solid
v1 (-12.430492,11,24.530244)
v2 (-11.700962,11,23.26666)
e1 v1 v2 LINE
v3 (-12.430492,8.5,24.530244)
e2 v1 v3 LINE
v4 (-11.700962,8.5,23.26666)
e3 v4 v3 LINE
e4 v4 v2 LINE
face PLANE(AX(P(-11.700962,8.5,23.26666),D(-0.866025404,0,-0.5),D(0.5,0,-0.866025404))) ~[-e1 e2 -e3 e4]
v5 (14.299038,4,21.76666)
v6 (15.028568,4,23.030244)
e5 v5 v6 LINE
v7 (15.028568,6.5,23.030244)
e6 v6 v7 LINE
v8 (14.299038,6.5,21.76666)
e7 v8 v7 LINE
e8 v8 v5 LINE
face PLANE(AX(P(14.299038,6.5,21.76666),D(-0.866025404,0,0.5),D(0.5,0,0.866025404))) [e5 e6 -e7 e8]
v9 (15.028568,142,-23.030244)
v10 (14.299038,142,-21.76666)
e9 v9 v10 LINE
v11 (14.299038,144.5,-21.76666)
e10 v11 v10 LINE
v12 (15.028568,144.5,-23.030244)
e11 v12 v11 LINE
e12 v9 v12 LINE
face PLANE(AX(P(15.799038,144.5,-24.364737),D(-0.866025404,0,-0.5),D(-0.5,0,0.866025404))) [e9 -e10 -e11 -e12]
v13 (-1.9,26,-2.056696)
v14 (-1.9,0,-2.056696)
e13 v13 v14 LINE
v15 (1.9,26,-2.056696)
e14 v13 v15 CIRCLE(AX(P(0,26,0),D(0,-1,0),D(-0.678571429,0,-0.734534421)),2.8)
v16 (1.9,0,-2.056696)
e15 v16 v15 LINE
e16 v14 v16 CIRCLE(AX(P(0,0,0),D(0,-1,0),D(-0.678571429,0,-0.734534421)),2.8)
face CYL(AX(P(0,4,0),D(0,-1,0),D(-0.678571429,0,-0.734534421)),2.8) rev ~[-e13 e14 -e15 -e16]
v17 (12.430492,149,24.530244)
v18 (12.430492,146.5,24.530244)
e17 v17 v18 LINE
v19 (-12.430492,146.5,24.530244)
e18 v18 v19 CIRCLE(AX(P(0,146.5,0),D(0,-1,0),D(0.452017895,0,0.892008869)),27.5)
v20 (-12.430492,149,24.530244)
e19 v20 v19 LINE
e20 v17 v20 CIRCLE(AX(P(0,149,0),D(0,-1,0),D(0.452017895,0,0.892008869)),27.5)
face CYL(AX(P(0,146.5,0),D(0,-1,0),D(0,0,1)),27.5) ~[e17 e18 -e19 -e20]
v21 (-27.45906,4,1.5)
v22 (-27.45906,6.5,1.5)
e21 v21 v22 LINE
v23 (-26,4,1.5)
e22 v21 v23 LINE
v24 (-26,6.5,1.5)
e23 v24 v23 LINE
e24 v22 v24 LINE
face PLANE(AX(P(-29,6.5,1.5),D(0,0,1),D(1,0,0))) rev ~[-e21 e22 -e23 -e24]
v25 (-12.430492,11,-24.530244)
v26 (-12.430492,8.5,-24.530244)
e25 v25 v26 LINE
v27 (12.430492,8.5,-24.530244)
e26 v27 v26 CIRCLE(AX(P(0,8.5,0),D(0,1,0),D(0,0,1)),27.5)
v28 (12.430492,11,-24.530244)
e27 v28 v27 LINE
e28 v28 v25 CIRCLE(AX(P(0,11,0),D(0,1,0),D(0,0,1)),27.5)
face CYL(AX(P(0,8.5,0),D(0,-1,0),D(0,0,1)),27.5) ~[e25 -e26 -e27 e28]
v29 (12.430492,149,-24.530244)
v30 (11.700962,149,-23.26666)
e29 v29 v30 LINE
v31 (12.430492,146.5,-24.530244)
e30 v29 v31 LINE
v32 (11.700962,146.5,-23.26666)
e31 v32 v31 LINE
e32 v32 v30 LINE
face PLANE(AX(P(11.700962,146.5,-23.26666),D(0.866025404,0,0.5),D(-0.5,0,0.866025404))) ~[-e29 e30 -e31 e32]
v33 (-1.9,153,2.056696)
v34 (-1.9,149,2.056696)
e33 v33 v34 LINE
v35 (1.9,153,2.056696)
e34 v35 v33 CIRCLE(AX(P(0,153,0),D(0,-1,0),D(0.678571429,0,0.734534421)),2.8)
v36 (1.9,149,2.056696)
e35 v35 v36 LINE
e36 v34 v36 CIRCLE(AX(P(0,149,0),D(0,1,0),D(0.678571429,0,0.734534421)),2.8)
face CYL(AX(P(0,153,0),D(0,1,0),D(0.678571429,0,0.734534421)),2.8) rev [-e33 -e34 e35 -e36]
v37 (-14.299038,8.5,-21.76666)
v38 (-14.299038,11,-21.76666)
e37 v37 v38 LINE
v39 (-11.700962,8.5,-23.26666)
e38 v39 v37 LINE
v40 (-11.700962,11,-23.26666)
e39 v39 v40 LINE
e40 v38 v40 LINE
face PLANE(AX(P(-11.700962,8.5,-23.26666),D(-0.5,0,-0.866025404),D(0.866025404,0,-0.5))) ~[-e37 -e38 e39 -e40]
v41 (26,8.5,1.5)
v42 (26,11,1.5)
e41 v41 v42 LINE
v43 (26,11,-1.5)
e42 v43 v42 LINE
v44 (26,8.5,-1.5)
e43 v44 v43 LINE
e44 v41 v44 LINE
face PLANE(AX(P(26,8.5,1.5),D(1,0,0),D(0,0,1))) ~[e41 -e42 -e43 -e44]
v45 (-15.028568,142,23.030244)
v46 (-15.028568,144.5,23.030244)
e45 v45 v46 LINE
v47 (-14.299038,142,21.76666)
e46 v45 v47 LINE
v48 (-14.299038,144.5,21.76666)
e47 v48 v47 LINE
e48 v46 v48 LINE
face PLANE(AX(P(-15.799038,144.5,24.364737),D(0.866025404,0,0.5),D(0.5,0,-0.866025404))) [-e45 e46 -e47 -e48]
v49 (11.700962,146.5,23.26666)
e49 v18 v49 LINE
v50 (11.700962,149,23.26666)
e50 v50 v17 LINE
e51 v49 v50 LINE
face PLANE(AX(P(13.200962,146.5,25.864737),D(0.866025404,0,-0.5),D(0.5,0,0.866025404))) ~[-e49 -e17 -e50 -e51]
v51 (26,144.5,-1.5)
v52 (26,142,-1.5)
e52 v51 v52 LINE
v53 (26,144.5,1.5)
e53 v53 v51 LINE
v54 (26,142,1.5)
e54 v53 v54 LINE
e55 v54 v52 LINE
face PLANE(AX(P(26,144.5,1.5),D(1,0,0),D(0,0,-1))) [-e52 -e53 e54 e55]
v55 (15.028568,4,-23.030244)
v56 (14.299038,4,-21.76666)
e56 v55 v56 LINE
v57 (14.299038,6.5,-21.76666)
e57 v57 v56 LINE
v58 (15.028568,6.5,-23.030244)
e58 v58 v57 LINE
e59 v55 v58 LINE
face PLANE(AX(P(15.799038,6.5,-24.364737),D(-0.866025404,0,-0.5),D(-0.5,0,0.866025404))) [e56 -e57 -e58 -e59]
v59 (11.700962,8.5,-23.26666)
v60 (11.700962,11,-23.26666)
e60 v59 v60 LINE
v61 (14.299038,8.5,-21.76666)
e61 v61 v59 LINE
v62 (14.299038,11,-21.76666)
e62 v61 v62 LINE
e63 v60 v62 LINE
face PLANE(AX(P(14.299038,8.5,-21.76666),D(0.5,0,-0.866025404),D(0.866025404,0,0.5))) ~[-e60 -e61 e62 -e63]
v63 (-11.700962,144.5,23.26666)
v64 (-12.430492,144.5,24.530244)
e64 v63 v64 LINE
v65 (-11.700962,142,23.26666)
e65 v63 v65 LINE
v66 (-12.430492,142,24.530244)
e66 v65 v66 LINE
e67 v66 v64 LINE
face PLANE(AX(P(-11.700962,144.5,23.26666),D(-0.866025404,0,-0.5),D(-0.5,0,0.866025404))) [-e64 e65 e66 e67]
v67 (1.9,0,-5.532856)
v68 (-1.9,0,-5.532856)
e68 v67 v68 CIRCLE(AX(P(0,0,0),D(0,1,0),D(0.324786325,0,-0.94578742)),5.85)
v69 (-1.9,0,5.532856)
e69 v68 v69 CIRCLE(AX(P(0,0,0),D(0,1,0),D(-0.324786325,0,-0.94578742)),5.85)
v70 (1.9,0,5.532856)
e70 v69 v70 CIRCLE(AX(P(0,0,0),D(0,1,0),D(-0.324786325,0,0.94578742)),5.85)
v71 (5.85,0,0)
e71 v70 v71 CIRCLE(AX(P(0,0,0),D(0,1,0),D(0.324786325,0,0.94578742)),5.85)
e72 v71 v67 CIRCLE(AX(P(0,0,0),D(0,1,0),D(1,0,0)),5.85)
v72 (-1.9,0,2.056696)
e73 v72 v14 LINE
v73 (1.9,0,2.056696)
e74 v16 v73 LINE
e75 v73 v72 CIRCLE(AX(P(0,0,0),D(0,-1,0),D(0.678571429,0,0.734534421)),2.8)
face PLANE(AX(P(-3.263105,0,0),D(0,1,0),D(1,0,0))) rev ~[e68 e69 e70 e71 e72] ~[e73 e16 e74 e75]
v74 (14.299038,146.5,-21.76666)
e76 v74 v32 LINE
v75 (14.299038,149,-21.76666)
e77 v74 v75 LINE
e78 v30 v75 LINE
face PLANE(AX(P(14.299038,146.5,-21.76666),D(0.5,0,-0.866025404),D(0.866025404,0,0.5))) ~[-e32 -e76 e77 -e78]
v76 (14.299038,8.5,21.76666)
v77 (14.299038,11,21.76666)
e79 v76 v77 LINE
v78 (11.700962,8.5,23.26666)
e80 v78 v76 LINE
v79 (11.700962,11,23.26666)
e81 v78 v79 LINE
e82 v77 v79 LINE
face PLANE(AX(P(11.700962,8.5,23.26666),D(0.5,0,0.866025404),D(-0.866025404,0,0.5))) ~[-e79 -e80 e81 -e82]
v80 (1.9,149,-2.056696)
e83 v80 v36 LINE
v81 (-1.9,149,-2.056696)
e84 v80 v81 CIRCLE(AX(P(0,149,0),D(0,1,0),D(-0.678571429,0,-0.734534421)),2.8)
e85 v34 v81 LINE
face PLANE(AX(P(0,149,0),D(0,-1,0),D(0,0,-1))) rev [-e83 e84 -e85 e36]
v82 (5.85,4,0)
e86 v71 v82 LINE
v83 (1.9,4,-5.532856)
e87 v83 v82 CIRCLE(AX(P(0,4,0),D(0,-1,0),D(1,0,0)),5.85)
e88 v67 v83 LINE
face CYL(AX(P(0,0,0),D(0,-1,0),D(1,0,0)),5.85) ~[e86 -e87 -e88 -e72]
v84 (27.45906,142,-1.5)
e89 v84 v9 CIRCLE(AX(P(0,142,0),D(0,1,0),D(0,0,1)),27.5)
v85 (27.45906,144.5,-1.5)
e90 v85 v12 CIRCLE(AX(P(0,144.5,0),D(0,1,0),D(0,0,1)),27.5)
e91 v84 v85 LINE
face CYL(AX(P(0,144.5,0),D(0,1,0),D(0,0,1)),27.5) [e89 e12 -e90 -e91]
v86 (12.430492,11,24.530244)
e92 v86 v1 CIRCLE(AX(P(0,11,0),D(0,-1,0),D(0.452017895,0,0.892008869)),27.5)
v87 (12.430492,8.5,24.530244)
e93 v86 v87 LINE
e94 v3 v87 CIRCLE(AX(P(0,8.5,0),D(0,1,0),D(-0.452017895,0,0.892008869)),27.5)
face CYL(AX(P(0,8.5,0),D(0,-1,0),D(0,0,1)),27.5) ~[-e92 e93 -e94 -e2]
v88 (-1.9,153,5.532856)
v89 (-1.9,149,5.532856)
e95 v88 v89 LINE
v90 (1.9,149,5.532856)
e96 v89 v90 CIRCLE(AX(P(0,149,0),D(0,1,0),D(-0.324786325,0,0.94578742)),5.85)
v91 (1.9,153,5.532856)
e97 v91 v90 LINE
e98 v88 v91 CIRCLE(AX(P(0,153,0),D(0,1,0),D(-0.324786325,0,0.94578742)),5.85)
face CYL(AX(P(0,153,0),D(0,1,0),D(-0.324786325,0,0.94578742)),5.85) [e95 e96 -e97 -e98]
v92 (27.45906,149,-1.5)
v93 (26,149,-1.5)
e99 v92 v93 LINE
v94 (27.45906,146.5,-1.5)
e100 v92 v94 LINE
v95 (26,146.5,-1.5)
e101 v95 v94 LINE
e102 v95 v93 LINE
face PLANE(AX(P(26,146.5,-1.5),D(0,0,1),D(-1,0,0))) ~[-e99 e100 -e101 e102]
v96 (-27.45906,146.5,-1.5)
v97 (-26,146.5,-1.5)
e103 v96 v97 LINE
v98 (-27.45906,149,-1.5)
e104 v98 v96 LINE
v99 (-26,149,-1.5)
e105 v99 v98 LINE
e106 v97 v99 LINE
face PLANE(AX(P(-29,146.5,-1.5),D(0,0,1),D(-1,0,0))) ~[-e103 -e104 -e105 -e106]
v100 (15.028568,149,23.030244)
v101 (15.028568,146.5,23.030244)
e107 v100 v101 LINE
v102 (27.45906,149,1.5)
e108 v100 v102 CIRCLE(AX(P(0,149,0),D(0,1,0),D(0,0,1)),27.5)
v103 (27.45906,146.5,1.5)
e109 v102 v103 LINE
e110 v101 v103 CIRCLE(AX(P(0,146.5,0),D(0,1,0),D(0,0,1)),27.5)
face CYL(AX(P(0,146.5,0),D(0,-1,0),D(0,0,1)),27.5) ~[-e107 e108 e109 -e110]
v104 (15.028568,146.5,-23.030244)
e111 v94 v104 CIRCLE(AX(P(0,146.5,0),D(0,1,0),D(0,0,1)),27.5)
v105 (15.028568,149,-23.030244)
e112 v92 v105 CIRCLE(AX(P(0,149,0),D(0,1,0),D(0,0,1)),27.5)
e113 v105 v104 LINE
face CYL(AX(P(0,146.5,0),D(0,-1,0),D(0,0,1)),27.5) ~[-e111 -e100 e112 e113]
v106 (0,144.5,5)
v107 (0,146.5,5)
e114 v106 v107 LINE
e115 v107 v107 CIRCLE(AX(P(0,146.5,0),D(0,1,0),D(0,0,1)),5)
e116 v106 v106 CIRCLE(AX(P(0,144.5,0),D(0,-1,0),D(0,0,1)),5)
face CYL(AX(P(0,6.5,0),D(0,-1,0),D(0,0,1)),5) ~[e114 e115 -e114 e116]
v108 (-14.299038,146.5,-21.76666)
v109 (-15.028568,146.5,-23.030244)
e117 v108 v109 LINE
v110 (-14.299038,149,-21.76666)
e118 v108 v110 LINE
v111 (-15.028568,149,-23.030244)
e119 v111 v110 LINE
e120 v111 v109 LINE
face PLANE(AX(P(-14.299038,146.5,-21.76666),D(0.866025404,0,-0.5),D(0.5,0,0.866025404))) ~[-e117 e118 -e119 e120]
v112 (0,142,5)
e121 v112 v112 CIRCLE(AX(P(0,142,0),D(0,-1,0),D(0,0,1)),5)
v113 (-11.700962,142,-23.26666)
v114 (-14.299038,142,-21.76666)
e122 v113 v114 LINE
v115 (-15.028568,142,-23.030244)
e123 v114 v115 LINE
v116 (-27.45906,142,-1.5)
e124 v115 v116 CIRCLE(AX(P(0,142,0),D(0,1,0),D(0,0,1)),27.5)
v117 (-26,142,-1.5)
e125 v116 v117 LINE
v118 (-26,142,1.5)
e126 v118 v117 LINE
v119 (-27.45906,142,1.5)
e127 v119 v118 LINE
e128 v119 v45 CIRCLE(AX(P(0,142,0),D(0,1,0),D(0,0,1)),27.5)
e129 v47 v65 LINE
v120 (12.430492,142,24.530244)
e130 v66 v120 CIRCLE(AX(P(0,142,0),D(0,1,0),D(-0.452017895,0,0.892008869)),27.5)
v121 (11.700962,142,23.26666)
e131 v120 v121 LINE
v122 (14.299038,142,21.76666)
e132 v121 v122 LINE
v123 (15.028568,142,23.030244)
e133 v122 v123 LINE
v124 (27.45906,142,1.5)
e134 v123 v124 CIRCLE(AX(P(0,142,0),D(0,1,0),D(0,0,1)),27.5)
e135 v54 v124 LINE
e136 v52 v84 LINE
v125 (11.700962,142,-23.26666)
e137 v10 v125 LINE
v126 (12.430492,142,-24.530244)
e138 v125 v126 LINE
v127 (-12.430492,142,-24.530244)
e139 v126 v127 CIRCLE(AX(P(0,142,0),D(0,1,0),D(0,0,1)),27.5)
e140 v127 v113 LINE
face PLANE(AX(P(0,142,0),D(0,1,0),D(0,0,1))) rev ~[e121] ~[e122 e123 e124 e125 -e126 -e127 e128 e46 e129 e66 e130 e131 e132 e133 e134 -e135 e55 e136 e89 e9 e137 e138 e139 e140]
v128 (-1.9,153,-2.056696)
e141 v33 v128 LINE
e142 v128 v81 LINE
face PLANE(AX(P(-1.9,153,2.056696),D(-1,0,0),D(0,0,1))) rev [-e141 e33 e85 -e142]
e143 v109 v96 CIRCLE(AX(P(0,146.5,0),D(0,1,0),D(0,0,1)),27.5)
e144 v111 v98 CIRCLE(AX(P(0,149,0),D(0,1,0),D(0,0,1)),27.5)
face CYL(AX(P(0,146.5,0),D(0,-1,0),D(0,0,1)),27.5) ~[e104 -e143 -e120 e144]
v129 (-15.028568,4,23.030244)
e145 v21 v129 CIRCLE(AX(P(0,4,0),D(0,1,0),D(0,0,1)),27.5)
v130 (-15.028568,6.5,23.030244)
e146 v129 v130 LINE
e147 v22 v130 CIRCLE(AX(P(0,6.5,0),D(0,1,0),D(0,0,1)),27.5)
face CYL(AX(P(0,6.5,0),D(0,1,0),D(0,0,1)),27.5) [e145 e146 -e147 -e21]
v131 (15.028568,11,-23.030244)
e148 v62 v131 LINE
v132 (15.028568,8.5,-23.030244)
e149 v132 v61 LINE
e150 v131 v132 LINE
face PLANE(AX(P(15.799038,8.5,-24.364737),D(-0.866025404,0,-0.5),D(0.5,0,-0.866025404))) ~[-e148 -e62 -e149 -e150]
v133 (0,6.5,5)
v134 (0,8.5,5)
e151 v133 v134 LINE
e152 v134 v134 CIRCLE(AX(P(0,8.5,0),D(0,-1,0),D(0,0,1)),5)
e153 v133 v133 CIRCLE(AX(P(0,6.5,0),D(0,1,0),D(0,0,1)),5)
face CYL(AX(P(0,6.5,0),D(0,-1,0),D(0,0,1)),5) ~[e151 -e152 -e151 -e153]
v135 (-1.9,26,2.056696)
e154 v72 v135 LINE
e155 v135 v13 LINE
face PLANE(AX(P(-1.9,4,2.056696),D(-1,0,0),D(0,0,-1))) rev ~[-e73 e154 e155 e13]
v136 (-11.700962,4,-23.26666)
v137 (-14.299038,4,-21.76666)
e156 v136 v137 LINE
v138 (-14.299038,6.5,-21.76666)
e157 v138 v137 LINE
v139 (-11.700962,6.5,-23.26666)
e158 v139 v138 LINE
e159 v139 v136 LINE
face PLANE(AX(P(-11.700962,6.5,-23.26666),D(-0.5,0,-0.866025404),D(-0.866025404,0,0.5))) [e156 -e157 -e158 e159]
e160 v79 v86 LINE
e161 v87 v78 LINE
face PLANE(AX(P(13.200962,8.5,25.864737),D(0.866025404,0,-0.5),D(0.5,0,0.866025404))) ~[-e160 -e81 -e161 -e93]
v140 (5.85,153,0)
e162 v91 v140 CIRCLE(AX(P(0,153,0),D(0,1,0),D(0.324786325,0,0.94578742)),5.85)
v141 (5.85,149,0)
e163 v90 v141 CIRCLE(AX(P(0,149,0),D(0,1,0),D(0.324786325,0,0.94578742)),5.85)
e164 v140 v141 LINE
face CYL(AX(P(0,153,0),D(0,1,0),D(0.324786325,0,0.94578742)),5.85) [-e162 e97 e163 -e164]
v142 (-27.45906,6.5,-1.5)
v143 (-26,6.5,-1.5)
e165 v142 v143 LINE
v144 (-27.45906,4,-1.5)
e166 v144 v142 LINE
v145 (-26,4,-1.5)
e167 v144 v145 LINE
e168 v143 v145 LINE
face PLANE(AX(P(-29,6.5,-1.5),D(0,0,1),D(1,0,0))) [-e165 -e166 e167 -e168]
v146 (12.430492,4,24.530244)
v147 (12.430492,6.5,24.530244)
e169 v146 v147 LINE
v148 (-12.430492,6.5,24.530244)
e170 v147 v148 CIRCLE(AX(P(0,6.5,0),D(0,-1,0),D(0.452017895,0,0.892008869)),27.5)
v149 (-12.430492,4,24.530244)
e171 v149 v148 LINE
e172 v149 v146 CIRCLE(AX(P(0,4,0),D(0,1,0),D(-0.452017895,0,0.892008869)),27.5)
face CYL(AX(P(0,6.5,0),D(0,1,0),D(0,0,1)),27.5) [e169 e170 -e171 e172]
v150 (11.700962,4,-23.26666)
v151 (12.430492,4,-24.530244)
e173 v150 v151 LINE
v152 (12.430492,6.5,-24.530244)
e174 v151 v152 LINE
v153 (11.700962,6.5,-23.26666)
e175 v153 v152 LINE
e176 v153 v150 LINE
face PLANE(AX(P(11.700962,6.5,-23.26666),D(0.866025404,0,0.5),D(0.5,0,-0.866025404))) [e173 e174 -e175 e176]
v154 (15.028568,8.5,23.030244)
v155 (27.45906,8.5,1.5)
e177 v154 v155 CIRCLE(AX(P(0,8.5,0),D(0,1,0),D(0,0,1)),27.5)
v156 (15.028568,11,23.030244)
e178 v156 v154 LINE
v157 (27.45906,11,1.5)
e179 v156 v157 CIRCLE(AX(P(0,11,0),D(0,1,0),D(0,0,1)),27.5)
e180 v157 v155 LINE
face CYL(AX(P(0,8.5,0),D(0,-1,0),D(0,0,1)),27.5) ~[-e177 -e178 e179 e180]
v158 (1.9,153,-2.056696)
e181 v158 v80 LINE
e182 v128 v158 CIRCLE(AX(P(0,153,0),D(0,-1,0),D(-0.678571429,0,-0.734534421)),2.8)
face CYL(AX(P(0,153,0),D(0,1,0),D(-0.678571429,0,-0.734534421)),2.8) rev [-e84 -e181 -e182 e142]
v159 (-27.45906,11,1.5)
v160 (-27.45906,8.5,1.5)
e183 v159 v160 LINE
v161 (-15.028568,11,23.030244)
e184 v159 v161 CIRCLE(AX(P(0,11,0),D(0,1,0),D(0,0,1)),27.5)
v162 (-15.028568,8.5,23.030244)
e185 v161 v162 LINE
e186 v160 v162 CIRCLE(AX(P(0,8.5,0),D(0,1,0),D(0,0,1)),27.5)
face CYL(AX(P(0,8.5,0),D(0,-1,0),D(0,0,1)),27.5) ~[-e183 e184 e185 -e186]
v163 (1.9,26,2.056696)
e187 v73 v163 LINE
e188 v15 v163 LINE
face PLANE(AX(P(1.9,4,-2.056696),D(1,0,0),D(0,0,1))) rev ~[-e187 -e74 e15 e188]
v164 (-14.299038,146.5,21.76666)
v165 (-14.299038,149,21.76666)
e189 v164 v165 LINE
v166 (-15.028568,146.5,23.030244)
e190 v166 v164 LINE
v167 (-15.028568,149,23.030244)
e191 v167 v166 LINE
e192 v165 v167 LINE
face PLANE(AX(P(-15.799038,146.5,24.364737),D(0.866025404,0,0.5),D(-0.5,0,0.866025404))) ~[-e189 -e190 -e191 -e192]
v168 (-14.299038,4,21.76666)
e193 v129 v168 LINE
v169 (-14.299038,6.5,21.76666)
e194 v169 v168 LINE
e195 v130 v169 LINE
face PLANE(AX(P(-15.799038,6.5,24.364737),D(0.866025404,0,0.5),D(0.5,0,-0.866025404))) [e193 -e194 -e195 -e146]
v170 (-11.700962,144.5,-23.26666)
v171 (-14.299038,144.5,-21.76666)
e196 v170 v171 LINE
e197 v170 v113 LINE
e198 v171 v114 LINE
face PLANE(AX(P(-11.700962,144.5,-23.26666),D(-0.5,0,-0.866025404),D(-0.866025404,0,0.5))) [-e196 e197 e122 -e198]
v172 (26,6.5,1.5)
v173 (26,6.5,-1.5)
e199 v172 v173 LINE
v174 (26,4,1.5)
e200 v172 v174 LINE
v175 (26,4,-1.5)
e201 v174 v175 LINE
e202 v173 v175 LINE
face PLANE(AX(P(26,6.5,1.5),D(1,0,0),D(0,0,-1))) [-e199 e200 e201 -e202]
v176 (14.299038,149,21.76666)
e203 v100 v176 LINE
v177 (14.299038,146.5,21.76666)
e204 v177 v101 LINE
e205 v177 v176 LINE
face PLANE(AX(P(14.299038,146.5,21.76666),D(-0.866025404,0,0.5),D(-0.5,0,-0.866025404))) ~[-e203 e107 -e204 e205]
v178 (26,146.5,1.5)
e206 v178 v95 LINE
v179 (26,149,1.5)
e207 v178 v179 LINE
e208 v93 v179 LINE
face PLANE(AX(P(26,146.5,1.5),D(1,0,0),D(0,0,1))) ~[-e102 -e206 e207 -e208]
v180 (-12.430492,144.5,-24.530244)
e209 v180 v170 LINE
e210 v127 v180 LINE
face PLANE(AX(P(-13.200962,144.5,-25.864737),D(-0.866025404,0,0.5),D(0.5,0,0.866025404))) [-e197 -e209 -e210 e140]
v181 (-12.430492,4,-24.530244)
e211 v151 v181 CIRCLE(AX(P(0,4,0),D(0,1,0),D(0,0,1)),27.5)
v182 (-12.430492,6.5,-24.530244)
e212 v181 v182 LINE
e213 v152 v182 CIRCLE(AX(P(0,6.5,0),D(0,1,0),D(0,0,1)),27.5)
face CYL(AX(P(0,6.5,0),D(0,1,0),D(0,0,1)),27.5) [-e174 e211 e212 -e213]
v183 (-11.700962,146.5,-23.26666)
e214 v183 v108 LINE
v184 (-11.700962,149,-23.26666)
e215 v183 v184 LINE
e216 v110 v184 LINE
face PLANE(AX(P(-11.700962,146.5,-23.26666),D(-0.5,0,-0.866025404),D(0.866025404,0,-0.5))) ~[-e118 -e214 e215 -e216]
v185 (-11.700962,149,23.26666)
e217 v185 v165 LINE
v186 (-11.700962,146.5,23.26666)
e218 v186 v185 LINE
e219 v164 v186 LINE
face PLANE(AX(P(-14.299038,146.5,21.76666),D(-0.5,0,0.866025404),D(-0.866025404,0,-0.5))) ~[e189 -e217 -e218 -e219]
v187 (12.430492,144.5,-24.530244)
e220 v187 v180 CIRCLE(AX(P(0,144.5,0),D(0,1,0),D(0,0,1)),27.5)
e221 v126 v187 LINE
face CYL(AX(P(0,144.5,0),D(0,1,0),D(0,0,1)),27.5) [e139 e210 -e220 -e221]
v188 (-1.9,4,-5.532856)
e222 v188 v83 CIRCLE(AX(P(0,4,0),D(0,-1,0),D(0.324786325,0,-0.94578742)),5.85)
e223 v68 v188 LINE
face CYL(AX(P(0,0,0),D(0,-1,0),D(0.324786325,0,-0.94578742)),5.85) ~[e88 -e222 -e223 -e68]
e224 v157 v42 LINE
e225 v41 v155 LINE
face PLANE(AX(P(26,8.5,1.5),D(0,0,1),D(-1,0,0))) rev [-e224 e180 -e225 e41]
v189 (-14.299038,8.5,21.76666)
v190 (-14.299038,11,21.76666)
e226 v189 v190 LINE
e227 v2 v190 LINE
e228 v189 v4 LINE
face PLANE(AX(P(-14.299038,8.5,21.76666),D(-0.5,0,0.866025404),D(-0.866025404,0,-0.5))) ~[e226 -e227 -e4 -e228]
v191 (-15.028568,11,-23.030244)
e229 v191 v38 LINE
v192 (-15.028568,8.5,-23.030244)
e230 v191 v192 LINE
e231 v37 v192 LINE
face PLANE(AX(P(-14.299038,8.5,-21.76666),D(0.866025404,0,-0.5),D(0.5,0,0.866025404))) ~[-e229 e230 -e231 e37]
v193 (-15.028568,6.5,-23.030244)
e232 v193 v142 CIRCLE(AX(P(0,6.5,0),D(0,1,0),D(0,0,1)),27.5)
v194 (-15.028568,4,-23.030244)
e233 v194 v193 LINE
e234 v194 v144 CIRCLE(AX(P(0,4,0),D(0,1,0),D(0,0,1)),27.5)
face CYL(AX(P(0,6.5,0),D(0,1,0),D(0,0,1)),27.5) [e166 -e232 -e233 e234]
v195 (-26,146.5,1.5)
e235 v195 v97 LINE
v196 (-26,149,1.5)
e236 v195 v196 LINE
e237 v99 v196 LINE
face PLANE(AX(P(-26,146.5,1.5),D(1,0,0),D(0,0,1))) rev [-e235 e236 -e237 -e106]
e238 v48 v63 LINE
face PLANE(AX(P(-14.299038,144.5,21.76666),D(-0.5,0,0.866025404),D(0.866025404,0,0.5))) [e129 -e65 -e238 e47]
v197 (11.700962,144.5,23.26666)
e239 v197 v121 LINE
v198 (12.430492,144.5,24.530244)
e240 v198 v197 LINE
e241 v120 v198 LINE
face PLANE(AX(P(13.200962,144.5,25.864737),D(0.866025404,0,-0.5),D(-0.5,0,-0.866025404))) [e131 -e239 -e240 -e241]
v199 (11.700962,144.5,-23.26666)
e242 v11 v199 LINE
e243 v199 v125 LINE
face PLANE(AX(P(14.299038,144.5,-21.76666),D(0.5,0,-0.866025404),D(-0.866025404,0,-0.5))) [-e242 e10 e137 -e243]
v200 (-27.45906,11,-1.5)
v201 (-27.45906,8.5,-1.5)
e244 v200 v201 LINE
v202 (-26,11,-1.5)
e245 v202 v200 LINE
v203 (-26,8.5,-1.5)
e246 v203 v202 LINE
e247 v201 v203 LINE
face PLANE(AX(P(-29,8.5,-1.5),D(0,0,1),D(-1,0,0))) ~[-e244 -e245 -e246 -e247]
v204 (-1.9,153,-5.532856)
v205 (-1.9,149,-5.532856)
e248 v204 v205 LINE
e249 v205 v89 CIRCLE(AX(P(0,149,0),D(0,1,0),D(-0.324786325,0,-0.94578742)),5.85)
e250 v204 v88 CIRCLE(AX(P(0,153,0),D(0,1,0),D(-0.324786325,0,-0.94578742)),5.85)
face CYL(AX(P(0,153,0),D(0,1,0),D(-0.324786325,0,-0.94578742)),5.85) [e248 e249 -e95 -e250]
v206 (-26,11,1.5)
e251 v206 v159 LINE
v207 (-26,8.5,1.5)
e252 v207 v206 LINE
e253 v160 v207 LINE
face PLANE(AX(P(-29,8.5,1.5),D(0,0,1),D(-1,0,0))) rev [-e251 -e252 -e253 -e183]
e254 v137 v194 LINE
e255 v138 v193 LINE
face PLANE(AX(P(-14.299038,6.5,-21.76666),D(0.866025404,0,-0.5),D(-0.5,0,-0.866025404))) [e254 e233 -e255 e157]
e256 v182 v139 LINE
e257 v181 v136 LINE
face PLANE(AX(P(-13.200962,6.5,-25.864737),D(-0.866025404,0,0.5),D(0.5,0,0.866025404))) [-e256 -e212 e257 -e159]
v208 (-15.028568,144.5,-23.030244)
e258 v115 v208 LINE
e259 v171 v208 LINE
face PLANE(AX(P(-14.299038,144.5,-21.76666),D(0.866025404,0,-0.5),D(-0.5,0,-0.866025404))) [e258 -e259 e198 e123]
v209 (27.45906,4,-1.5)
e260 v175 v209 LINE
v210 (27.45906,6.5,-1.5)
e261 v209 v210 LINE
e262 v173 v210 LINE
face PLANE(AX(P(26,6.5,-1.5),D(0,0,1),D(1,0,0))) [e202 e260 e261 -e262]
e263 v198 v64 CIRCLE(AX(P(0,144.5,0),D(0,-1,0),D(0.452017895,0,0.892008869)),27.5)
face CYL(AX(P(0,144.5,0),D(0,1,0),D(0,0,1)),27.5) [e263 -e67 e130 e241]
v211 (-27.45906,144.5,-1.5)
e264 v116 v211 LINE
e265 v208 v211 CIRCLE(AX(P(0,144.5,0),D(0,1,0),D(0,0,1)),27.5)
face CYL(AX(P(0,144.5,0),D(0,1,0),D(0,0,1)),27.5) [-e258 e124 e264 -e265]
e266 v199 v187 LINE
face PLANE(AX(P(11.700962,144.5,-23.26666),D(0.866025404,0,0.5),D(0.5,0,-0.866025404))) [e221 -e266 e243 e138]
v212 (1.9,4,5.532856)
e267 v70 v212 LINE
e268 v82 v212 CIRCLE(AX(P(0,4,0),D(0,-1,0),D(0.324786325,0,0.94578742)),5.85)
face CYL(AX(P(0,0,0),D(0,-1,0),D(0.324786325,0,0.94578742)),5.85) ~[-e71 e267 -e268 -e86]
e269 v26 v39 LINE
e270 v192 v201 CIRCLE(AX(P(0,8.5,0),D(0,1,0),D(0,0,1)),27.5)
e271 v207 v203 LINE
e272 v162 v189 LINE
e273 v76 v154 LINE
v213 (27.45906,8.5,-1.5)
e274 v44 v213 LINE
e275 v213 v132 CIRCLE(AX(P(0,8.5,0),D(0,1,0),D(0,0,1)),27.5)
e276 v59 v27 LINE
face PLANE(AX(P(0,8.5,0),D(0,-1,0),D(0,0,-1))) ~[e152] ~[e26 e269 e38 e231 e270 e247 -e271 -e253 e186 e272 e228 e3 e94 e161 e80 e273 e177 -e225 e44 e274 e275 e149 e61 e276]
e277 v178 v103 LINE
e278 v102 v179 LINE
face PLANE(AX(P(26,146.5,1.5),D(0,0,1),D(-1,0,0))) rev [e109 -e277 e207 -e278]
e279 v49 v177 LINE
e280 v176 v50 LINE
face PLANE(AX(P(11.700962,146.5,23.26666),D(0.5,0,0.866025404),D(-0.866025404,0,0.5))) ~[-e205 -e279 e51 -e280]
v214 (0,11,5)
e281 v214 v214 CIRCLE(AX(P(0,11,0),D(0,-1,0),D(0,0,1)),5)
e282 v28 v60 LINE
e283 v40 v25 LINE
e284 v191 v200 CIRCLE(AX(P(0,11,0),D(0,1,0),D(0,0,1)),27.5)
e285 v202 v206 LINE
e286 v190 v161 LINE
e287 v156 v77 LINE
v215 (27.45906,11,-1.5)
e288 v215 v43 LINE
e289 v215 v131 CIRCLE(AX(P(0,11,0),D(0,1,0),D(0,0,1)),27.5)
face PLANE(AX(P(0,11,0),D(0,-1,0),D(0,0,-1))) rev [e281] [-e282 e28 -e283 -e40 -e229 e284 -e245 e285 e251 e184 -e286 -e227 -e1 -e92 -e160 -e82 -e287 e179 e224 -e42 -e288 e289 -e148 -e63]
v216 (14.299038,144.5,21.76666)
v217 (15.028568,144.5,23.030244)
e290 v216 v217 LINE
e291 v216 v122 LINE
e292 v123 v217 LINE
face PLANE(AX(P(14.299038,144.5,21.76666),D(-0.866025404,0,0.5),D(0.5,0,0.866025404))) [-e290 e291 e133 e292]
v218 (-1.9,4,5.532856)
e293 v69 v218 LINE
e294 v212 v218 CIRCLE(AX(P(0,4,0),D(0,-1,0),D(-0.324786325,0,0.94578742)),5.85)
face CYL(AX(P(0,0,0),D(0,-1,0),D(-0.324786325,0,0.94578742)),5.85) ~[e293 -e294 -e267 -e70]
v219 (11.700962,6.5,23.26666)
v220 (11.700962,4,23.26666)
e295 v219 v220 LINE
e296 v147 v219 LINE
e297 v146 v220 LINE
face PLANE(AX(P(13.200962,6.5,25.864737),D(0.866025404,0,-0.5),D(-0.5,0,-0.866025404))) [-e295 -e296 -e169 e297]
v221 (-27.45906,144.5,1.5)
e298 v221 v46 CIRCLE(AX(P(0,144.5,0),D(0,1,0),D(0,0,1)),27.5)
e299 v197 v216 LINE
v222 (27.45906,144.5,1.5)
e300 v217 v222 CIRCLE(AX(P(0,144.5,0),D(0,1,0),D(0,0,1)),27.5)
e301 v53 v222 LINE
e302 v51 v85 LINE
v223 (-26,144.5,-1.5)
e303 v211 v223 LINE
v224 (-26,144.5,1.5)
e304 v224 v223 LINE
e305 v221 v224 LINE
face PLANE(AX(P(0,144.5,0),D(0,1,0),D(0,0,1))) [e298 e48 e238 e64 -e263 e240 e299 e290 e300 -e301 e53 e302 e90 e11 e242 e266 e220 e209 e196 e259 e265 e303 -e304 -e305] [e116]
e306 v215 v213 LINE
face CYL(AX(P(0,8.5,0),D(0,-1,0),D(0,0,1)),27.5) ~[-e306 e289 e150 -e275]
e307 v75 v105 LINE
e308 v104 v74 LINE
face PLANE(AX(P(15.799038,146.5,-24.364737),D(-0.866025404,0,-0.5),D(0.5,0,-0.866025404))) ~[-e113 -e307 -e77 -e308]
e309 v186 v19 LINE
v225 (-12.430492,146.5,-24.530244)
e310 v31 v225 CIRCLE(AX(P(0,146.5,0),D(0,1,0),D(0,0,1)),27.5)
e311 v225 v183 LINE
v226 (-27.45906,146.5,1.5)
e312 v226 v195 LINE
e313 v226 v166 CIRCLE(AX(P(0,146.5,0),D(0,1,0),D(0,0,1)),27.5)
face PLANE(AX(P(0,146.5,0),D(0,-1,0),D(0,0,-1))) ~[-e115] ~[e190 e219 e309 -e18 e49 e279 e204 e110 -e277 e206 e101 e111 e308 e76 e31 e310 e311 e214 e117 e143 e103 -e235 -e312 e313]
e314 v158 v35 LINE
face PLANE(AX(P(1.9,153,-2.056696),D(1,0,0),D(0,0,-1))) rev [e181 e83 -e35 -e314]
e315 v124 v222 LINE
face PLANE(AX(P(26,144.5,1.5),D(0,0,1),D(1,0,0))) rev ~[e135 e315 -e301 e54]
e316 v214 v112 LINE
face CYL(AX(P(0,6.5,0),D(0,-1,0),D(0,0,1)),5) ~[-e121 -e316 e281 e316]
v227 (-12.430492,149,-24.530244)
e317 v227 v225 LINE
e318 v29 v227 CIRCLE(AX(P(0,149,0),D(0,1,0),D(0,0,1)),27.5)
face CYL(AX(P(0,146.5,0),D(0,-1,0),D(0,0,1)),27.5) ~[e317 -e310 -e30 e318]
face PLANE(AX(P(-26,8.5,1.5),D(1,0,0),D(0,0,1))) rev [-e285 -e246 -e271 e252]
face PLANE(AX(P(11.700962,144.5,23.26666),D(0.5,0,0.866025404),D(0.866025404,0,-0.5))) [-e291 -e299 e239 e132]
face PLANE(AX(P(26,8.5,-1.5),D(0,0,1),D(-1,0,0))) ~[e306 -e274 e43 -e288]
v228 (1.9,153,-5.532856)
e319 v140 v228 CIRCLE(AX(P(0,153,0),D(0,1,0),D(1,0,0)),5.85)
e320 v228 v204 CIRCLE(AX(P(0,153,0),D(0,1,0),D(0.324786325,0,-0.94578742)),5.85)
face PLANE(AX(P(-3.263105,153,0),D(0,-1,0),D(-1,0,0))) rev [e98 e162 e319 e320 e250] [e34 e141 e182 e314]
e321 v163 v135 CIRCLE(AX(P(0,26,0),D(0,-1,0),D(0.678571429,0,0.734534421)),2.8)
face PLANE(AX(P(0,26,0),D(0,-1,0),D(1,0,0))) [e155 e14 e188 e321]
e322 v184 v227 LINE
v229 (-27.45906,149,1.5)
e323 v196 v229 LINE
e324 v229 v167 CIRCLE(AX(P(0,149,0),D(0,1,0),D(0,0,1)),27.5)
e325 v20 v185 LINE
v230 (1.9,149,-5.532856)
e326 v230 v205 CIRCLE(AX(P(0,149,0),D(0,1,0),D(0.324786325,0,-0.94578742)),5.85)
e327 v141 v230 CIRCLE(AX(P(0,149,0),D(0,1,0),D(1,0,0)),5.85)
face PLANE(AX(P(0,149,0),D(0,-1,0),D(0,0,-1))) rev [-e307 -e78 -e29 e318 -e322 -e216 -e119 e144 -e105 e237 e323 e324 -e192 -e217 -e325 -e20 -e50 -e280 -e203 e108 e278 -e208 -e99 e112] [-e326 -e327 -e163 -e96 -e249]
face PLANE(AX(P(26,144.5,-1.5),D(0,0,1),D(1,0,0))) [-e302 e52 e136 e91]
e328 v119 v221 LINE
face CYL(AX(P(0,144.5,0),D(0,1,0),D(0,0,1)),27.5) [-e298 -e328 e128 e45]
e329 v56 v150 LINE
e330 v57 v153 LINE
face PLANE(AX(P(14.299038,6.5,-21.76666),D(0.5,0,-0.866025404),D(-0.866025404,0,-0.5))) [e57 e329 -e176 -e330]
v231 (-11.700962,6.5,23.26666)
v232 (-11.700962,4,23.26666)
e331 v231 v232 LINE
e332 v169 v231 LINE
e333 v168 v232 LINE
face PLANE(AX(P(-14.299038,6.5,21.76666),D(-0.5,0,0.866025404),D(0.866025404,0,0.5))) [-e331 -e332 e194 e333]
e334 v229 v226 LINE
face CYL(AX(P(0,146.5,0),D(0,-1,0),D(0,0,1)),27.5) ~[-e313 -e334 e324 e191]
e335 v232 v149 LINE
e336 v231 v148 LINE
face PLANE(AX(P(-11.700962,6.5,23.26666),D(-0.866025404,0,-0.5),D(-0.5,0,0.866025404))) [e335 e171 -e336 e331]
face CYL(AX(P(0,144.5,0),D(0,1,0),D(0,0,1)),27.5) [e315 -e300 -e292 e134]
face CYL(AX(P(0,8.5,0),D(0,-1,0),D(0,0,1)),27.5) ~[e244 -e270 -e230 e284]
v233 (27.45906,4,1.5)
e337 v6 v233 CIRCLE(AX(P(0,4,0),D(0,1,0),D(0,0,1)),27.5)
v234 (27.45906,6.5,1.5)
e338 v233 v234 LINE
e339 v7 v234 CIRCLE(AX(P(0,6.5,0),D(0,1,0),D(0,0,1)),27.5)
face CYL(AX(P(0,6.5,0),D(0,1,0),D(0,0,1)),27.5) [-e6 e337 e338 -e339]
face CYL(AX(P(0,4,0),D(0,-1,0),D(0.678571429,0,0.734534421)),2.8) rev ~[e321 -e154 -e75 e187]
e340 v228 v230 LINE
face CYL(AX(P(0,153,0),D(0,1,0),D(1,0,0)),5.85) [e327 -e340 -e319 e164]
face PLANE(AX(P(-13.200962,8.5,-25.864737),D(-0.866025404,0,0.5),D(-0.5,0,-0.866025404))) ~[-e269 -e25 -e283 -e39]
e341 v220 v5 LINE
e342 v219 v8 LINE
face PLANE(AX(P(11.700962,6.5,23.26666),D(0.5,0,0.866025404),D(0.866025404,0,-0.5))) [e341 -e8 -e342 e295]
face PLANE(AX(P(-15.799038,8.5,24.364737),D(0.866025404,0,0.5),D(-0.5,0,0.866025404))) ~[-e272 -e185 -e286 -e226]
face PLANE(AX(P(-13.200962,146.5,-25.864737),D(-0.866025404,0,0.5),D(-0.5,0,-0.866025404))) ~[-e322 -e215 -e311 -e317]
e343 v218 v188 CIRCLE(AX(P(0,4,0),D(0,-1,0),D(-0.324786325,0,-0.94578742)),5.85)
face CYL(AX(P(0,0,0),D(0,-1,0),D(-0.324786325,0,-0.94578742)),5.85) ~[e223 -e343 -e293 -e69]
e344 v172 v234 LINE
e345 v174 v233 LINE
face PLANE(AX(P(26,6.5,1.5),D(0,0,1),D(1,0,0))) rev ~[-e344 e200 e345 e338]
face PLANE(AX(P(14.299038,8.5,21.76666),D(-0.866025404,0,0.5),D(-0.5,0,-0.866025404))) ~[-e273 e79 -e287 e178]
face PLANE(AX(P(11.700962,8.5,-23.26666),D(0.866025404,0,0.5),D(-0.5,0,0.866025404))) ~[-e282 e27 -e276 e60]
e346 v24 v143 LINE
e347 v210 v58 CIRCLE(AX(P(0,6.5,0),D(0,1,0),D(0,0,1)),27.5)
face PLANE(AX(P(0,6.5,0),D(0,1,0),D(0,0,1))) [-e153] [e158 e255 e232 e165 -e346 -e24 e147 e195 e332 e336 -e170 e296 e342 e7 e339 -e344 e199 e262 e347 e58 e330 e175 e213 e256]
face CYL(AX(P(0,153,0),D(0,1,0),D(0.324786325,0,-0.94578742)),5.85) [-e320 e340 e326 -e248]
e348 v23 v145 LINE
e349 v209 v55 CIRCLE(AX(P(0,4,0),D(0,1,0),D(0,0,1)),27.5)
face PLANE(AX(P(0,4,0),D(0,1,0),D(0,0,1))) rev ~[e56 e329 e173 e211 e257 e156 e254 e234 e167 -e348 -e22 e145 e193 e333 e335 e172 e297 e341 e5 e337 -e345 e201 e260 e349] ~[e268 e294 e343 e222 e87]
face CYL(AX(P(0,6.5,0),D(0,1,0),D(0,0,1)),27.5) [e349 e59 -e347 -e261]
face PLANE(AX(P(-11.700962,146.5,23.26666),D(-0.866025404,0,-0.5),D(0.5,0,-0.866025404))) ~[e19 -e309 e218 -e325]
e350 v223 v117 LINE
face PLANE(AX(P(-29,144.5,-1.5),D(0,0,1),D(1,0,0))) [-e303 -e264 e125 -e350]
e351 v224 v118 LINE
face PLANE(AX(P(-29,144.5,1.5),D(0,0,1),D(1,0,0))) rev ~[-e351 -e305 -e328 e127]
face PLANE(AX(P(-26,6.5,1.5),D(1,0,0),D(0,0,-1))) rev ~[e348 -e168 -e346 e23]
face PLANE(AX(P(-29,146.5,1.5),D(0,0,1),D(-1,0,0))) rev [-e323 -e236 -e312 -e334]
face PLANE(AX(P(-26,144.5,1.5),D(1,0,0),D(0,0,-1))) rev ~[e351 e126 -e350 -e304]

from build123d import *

# Parameters (mm, degrees)
BOSS_EXTRUDE1_DEPTH     = 6.5
SKETCH2_R               = 27.5
BOSS_EXTRUDE2_DEPTH     = 2.5
CUT_EXTRUDE1_DEPTH      = 8
SKETCH4_W               = 3
SKETCH4_H               = 3
CUT_EXTRUDE2_DEPTH      = 10
SKETCH5_R               = 5
BOSS_EXTRUDE3_DEPTH     = 140
CUT_EXTRUDE3_DEPTH      = 15
MIRROR6_COPY_1_SKETCH_R = 27.5
MIRROR6_COPY_1_DEPTH    = 2.5
MIRROR6_COPY_2_SKETCH_W = 3
MIRROR6_COPY_2_SKETCH_H = 3
MIRROR6_COPY_2_DEPTH    = 10


with BuildPart() as part:
    # Sketch1 → Boss-Extrude1 (new body)
    with BuildSketch(Plane(origin=(0, 0, 0), x_dir=(1, 0, 0), z_dir=(0, 1, 0))):
        with BuildLine():
            ThreePointArc((-1.9, -2.05669638), (-2.8, 0), (-1.9, 2.05669638))
            Line((-1.9, 2.05669638), (-1.9, 5.532856405))
            ThreePointArc((-1.9, 5.532856405), (-5.85, 0), (-1.9, -5.532856405))
            Line((-1.9, -5.532856405), (-1.9, -2.05669638))
        make_face()
        with BuildLine():
            ThreePointArc((-1.9, 2.05669638), (0, 2.8), (1.9, 2.05669638))
            Line((1.9, 2.05669638), (1.9, 5.532856405))
            ThreePointArc((1.9, 5.532856405), (0, 5.85), (-1.9, 5.532856405))
            Line((-1.9, 5.532856405), (-1.9, 2.05669638))
        make_face()
        with BuildLine():
            Line((1.9, 5.532856405), (1.9, 2.05669638))
            ThreePointArc((1.9, 2.05669638), (2.565151068, 1.122497216), (2.8, 0))
            ThreePointArc((2.8, 0), (2.565151068, -1.122497216), (1.9, -2.05669638))
            Line((1.9, -2.05669638), (1.9, -5.532856405))
            ThreePointArc((1.9, -5.532856405), (4.761171074, -3.399080758), (5.85, 0))
            ThreePointArc((5.85, 0), (4.761171074, 3.399080758), (1.9, 5.532856405))
        make_face()
        with BuildLine():
            Line((1.9, -5.532856405), (1.9, -2.05669638))
            ThreePointArc((1.9, -2.05669638), (0, -2.8), (-1.9, -2.05669638))
            Line((-1.9, -2.05669638), (-1.9, -5.532856405))
            ThreePointArc((-1.9, -5.532856405), (0, -5.85), (1.9, -5.532856405))
        make_face()
        with BuildLine():
            Line((-1.9, -2.05669638), (-1.9, 2.05669638))
            ThreePointArc((-1.9, 2.05669638), (-2.8, 0), (-1.9, -2.05669638))
        make_face()
        with BuildLine():
            ThreePointArc((2.8, 0), (2.565151068, 1.122497216), (1.9, 2.05669638))
            Line((1.9, 2.05669638), (1.9, -2.05669638))
            ThreePointArc((1.9, -2.05669638), (2.565151068, -1.122497216), (2.8, 0))
        make_face()
    boss_extrude1 = extrude(amount=BOSS_EXTRUDE1_DEPTH)

    # Sketch2 → Boss-Extrude2 (add)
    with BuildSketch(Plane(origin=(0, 6.5, 0), x_dir=(1, 0, 0), z_dir=(0, 1, 0))):
        with Locations(Location((0, 0, 0), (0, 0, 270))):
            Circle(SKETCH2_R)
    boss_extrude2 = extrude(amount=-BOSS_EXTRUDE2_DEPTH)

    # Sketch3 → Cut-Extrude1 (cut)
    with BuildSketch(Plane.XZ.offset(-4)):
        with BuildLine():
            Line((-1.9, 2.05669638), (-1.9, -2.05669638))
            ThreePointArc((-1.9, -2.05669638), (0, -2.8), (1.9, -2.05669638))
            Line((1.9, -2.05669638), (1.9, 2.05669638))
            ThreePointArc((1.9, 2.05669638), (0, 2.8), (-1.9, 2.05669638))
        make_face()
    cut_extrude1 = extrude(amount=-CUT_EXTRUDE1_DEPTH, mode=Mode.SUBTRACT)

    # Sketch4 → Cut-Extrude2 (cut)
    with BuildSketch(Plane(origin=(0, 6.5, 0), x_dir=(1, 0, 0), z_dir=(0, 1, 0))):
        Polygon((14.299038106, -21.766660498), (15.799038106, -24.36473671), (13.200961894, -25.86473671), (11.700961894, -23.266660498), align=None)
        with Locations((27.5, 0)):
            Rectangle(SKETCH4_W, SKETCH4_H)
        Polygon((-11.700961894, -23.266660498), (-13.200961894, -25.86473671), (-15.799038106, -24.36473671), (-14.299038106, -21.766660498), align=None)
        with Locations((-27.5, 0)):
            Rectangle(SKETCH4_W, SKETCH4_H)
        Polygon((-14.299038106, 21.766660498), (-15.799038106, 24.36473671), (-13.200961894, 25.86473671), (-11.700961894, 23.266660498), align=None)
        Polygon((11.700961894, 23.266660498), (13.200961894, 25.86473671), (15.799038106, 24.36473671), (14.299038106, 21.766660498), align=None)
    cut_extrude2 = extrude(amount=-CUT_EXTRUDE2_DEPTH, mode=Mode.SUBTRACT)

    # Sketch5 → Boss-Extrude3 (add)
    with BuildSketch(Plane(origin=(0, 6.5, 0), x_dir=(1, 0, 0), z_dir=(0, 1, 0))):
        with Locations(Location((0, 0, 0), (0, 0, 270))):
            Circle(SKETCH5_R)
    extrude(amount=BOSS_EXTRUDE3_DEPTH)

    # Mirror1: Boss-Extrude2 across plane
    add(boss_extrude2.mirror(Plane.ZX.offset(76.5)))

    # Mirror2: Boss-Extrude1 across plane
    add(boss_extrude1.mirror(Plane.ZX.offset(76.5)))

    # Mirror3: Boss-Extrude2, Cut-Extrude1, Cut-Extrude2 across plane
    add(boss_extrude2.mirror(Plane.ZX.offset(7.5)))
    add(cut_extrude1.mirror(Plane.ZX.offset(7.5)), mode=Mode.SUBTRACT)
    add(cut_extrude2.mirror(Plane.ZX.offset(7.5)), mode=Mode.SUBTRACT)

    # Sketch6 → Cut-Extrude3 (cut)
    with BuildSketch(Plane.XZ.offset(-11)):
        with BuildLine():
            Line((-1.9, 2.05669638), (-1.9, -2.05669638))
            ThreePointArc((-1.9, -2.05669638), (0, -2.8), (1.9, -2.05669638))
            Line((1.9, -2.05669638), (1.9, 2.05669638))
            ThreePointArc((1.9, 2.05669638), (0, 2.8), (-1.9, 2.05669638))
        make_face()
    extrude(amount=-CUT_EXTRUDE3_DEPTH, mode=Mode.SUBTRACT)

    # Mirror5: Cut-Extrude2 across plane
    add(cut_extrude2.mirror(Plane.ZX.offset(76.5)), mode=Mode.SUBTRACT)

    # Mirror6 copy 1 sketch → Mirror6 copy 1 (add)
    with BuildSketch(Plane(origin=(0, 144.5, 0), x_dir=(1, 0, 0), z_dir=(0, 1, 0))):
        with Locations(Location((0, 0, 0), (0, 0, 270))):
            Circle(MIRROR6_COPY_1_SKETCH_R)
    extrude(amount=-MIRROR6_COPY_1_DEPTH)

    # Mirror6 copy 2 sketch → Mirror6 copy 2 (cut)
    with BuildSketch(Plane(origin=(0, 144.5, 0), x_dir=(1, 0, 0), z_dir=(0, 1, 0))):
        Polygon((14.299038106, -21.766660498), (15.799038106, -24.36473671), (13.200961894, -25.86473671), (11.700961894, -23.266660498), align=None)
        with Locations((27.5, 0)):
            Rectangle(MIRROR6_COPY_2_SKETCH_W, MIRROR6_COPY_2_SKETCH_H)
        Polygon((-11.700961894, -23.266660498), (-13.200961894, -25.86473671), (-15.799038106, -24.36473671), (-14.299038106, -21.766660498), align=None)
        with Locations((-27.5, 0)):
            Rectangle(MIRROR6_COPY_2_SKETCH_W, MIRROR6_COPY_2_SKETCH_H)
        Polygon((-14.299038106, 21.766660498), (-15.799038106, 24.36473671), (-13.200961894, 25.86473671), (-11.700961894, 23.266660498), align=None)
        Polygon((11.700961894, 23.266660498), (13.200961894, 25.86473671), (15.799038106, 24.36473671), (14.299038106, 21.766660498), align=None)
    extrude(amount=-MIRROR6_COPY_2_DEPTH, mode=Mode.SUBTRACT)


solid = part.part
